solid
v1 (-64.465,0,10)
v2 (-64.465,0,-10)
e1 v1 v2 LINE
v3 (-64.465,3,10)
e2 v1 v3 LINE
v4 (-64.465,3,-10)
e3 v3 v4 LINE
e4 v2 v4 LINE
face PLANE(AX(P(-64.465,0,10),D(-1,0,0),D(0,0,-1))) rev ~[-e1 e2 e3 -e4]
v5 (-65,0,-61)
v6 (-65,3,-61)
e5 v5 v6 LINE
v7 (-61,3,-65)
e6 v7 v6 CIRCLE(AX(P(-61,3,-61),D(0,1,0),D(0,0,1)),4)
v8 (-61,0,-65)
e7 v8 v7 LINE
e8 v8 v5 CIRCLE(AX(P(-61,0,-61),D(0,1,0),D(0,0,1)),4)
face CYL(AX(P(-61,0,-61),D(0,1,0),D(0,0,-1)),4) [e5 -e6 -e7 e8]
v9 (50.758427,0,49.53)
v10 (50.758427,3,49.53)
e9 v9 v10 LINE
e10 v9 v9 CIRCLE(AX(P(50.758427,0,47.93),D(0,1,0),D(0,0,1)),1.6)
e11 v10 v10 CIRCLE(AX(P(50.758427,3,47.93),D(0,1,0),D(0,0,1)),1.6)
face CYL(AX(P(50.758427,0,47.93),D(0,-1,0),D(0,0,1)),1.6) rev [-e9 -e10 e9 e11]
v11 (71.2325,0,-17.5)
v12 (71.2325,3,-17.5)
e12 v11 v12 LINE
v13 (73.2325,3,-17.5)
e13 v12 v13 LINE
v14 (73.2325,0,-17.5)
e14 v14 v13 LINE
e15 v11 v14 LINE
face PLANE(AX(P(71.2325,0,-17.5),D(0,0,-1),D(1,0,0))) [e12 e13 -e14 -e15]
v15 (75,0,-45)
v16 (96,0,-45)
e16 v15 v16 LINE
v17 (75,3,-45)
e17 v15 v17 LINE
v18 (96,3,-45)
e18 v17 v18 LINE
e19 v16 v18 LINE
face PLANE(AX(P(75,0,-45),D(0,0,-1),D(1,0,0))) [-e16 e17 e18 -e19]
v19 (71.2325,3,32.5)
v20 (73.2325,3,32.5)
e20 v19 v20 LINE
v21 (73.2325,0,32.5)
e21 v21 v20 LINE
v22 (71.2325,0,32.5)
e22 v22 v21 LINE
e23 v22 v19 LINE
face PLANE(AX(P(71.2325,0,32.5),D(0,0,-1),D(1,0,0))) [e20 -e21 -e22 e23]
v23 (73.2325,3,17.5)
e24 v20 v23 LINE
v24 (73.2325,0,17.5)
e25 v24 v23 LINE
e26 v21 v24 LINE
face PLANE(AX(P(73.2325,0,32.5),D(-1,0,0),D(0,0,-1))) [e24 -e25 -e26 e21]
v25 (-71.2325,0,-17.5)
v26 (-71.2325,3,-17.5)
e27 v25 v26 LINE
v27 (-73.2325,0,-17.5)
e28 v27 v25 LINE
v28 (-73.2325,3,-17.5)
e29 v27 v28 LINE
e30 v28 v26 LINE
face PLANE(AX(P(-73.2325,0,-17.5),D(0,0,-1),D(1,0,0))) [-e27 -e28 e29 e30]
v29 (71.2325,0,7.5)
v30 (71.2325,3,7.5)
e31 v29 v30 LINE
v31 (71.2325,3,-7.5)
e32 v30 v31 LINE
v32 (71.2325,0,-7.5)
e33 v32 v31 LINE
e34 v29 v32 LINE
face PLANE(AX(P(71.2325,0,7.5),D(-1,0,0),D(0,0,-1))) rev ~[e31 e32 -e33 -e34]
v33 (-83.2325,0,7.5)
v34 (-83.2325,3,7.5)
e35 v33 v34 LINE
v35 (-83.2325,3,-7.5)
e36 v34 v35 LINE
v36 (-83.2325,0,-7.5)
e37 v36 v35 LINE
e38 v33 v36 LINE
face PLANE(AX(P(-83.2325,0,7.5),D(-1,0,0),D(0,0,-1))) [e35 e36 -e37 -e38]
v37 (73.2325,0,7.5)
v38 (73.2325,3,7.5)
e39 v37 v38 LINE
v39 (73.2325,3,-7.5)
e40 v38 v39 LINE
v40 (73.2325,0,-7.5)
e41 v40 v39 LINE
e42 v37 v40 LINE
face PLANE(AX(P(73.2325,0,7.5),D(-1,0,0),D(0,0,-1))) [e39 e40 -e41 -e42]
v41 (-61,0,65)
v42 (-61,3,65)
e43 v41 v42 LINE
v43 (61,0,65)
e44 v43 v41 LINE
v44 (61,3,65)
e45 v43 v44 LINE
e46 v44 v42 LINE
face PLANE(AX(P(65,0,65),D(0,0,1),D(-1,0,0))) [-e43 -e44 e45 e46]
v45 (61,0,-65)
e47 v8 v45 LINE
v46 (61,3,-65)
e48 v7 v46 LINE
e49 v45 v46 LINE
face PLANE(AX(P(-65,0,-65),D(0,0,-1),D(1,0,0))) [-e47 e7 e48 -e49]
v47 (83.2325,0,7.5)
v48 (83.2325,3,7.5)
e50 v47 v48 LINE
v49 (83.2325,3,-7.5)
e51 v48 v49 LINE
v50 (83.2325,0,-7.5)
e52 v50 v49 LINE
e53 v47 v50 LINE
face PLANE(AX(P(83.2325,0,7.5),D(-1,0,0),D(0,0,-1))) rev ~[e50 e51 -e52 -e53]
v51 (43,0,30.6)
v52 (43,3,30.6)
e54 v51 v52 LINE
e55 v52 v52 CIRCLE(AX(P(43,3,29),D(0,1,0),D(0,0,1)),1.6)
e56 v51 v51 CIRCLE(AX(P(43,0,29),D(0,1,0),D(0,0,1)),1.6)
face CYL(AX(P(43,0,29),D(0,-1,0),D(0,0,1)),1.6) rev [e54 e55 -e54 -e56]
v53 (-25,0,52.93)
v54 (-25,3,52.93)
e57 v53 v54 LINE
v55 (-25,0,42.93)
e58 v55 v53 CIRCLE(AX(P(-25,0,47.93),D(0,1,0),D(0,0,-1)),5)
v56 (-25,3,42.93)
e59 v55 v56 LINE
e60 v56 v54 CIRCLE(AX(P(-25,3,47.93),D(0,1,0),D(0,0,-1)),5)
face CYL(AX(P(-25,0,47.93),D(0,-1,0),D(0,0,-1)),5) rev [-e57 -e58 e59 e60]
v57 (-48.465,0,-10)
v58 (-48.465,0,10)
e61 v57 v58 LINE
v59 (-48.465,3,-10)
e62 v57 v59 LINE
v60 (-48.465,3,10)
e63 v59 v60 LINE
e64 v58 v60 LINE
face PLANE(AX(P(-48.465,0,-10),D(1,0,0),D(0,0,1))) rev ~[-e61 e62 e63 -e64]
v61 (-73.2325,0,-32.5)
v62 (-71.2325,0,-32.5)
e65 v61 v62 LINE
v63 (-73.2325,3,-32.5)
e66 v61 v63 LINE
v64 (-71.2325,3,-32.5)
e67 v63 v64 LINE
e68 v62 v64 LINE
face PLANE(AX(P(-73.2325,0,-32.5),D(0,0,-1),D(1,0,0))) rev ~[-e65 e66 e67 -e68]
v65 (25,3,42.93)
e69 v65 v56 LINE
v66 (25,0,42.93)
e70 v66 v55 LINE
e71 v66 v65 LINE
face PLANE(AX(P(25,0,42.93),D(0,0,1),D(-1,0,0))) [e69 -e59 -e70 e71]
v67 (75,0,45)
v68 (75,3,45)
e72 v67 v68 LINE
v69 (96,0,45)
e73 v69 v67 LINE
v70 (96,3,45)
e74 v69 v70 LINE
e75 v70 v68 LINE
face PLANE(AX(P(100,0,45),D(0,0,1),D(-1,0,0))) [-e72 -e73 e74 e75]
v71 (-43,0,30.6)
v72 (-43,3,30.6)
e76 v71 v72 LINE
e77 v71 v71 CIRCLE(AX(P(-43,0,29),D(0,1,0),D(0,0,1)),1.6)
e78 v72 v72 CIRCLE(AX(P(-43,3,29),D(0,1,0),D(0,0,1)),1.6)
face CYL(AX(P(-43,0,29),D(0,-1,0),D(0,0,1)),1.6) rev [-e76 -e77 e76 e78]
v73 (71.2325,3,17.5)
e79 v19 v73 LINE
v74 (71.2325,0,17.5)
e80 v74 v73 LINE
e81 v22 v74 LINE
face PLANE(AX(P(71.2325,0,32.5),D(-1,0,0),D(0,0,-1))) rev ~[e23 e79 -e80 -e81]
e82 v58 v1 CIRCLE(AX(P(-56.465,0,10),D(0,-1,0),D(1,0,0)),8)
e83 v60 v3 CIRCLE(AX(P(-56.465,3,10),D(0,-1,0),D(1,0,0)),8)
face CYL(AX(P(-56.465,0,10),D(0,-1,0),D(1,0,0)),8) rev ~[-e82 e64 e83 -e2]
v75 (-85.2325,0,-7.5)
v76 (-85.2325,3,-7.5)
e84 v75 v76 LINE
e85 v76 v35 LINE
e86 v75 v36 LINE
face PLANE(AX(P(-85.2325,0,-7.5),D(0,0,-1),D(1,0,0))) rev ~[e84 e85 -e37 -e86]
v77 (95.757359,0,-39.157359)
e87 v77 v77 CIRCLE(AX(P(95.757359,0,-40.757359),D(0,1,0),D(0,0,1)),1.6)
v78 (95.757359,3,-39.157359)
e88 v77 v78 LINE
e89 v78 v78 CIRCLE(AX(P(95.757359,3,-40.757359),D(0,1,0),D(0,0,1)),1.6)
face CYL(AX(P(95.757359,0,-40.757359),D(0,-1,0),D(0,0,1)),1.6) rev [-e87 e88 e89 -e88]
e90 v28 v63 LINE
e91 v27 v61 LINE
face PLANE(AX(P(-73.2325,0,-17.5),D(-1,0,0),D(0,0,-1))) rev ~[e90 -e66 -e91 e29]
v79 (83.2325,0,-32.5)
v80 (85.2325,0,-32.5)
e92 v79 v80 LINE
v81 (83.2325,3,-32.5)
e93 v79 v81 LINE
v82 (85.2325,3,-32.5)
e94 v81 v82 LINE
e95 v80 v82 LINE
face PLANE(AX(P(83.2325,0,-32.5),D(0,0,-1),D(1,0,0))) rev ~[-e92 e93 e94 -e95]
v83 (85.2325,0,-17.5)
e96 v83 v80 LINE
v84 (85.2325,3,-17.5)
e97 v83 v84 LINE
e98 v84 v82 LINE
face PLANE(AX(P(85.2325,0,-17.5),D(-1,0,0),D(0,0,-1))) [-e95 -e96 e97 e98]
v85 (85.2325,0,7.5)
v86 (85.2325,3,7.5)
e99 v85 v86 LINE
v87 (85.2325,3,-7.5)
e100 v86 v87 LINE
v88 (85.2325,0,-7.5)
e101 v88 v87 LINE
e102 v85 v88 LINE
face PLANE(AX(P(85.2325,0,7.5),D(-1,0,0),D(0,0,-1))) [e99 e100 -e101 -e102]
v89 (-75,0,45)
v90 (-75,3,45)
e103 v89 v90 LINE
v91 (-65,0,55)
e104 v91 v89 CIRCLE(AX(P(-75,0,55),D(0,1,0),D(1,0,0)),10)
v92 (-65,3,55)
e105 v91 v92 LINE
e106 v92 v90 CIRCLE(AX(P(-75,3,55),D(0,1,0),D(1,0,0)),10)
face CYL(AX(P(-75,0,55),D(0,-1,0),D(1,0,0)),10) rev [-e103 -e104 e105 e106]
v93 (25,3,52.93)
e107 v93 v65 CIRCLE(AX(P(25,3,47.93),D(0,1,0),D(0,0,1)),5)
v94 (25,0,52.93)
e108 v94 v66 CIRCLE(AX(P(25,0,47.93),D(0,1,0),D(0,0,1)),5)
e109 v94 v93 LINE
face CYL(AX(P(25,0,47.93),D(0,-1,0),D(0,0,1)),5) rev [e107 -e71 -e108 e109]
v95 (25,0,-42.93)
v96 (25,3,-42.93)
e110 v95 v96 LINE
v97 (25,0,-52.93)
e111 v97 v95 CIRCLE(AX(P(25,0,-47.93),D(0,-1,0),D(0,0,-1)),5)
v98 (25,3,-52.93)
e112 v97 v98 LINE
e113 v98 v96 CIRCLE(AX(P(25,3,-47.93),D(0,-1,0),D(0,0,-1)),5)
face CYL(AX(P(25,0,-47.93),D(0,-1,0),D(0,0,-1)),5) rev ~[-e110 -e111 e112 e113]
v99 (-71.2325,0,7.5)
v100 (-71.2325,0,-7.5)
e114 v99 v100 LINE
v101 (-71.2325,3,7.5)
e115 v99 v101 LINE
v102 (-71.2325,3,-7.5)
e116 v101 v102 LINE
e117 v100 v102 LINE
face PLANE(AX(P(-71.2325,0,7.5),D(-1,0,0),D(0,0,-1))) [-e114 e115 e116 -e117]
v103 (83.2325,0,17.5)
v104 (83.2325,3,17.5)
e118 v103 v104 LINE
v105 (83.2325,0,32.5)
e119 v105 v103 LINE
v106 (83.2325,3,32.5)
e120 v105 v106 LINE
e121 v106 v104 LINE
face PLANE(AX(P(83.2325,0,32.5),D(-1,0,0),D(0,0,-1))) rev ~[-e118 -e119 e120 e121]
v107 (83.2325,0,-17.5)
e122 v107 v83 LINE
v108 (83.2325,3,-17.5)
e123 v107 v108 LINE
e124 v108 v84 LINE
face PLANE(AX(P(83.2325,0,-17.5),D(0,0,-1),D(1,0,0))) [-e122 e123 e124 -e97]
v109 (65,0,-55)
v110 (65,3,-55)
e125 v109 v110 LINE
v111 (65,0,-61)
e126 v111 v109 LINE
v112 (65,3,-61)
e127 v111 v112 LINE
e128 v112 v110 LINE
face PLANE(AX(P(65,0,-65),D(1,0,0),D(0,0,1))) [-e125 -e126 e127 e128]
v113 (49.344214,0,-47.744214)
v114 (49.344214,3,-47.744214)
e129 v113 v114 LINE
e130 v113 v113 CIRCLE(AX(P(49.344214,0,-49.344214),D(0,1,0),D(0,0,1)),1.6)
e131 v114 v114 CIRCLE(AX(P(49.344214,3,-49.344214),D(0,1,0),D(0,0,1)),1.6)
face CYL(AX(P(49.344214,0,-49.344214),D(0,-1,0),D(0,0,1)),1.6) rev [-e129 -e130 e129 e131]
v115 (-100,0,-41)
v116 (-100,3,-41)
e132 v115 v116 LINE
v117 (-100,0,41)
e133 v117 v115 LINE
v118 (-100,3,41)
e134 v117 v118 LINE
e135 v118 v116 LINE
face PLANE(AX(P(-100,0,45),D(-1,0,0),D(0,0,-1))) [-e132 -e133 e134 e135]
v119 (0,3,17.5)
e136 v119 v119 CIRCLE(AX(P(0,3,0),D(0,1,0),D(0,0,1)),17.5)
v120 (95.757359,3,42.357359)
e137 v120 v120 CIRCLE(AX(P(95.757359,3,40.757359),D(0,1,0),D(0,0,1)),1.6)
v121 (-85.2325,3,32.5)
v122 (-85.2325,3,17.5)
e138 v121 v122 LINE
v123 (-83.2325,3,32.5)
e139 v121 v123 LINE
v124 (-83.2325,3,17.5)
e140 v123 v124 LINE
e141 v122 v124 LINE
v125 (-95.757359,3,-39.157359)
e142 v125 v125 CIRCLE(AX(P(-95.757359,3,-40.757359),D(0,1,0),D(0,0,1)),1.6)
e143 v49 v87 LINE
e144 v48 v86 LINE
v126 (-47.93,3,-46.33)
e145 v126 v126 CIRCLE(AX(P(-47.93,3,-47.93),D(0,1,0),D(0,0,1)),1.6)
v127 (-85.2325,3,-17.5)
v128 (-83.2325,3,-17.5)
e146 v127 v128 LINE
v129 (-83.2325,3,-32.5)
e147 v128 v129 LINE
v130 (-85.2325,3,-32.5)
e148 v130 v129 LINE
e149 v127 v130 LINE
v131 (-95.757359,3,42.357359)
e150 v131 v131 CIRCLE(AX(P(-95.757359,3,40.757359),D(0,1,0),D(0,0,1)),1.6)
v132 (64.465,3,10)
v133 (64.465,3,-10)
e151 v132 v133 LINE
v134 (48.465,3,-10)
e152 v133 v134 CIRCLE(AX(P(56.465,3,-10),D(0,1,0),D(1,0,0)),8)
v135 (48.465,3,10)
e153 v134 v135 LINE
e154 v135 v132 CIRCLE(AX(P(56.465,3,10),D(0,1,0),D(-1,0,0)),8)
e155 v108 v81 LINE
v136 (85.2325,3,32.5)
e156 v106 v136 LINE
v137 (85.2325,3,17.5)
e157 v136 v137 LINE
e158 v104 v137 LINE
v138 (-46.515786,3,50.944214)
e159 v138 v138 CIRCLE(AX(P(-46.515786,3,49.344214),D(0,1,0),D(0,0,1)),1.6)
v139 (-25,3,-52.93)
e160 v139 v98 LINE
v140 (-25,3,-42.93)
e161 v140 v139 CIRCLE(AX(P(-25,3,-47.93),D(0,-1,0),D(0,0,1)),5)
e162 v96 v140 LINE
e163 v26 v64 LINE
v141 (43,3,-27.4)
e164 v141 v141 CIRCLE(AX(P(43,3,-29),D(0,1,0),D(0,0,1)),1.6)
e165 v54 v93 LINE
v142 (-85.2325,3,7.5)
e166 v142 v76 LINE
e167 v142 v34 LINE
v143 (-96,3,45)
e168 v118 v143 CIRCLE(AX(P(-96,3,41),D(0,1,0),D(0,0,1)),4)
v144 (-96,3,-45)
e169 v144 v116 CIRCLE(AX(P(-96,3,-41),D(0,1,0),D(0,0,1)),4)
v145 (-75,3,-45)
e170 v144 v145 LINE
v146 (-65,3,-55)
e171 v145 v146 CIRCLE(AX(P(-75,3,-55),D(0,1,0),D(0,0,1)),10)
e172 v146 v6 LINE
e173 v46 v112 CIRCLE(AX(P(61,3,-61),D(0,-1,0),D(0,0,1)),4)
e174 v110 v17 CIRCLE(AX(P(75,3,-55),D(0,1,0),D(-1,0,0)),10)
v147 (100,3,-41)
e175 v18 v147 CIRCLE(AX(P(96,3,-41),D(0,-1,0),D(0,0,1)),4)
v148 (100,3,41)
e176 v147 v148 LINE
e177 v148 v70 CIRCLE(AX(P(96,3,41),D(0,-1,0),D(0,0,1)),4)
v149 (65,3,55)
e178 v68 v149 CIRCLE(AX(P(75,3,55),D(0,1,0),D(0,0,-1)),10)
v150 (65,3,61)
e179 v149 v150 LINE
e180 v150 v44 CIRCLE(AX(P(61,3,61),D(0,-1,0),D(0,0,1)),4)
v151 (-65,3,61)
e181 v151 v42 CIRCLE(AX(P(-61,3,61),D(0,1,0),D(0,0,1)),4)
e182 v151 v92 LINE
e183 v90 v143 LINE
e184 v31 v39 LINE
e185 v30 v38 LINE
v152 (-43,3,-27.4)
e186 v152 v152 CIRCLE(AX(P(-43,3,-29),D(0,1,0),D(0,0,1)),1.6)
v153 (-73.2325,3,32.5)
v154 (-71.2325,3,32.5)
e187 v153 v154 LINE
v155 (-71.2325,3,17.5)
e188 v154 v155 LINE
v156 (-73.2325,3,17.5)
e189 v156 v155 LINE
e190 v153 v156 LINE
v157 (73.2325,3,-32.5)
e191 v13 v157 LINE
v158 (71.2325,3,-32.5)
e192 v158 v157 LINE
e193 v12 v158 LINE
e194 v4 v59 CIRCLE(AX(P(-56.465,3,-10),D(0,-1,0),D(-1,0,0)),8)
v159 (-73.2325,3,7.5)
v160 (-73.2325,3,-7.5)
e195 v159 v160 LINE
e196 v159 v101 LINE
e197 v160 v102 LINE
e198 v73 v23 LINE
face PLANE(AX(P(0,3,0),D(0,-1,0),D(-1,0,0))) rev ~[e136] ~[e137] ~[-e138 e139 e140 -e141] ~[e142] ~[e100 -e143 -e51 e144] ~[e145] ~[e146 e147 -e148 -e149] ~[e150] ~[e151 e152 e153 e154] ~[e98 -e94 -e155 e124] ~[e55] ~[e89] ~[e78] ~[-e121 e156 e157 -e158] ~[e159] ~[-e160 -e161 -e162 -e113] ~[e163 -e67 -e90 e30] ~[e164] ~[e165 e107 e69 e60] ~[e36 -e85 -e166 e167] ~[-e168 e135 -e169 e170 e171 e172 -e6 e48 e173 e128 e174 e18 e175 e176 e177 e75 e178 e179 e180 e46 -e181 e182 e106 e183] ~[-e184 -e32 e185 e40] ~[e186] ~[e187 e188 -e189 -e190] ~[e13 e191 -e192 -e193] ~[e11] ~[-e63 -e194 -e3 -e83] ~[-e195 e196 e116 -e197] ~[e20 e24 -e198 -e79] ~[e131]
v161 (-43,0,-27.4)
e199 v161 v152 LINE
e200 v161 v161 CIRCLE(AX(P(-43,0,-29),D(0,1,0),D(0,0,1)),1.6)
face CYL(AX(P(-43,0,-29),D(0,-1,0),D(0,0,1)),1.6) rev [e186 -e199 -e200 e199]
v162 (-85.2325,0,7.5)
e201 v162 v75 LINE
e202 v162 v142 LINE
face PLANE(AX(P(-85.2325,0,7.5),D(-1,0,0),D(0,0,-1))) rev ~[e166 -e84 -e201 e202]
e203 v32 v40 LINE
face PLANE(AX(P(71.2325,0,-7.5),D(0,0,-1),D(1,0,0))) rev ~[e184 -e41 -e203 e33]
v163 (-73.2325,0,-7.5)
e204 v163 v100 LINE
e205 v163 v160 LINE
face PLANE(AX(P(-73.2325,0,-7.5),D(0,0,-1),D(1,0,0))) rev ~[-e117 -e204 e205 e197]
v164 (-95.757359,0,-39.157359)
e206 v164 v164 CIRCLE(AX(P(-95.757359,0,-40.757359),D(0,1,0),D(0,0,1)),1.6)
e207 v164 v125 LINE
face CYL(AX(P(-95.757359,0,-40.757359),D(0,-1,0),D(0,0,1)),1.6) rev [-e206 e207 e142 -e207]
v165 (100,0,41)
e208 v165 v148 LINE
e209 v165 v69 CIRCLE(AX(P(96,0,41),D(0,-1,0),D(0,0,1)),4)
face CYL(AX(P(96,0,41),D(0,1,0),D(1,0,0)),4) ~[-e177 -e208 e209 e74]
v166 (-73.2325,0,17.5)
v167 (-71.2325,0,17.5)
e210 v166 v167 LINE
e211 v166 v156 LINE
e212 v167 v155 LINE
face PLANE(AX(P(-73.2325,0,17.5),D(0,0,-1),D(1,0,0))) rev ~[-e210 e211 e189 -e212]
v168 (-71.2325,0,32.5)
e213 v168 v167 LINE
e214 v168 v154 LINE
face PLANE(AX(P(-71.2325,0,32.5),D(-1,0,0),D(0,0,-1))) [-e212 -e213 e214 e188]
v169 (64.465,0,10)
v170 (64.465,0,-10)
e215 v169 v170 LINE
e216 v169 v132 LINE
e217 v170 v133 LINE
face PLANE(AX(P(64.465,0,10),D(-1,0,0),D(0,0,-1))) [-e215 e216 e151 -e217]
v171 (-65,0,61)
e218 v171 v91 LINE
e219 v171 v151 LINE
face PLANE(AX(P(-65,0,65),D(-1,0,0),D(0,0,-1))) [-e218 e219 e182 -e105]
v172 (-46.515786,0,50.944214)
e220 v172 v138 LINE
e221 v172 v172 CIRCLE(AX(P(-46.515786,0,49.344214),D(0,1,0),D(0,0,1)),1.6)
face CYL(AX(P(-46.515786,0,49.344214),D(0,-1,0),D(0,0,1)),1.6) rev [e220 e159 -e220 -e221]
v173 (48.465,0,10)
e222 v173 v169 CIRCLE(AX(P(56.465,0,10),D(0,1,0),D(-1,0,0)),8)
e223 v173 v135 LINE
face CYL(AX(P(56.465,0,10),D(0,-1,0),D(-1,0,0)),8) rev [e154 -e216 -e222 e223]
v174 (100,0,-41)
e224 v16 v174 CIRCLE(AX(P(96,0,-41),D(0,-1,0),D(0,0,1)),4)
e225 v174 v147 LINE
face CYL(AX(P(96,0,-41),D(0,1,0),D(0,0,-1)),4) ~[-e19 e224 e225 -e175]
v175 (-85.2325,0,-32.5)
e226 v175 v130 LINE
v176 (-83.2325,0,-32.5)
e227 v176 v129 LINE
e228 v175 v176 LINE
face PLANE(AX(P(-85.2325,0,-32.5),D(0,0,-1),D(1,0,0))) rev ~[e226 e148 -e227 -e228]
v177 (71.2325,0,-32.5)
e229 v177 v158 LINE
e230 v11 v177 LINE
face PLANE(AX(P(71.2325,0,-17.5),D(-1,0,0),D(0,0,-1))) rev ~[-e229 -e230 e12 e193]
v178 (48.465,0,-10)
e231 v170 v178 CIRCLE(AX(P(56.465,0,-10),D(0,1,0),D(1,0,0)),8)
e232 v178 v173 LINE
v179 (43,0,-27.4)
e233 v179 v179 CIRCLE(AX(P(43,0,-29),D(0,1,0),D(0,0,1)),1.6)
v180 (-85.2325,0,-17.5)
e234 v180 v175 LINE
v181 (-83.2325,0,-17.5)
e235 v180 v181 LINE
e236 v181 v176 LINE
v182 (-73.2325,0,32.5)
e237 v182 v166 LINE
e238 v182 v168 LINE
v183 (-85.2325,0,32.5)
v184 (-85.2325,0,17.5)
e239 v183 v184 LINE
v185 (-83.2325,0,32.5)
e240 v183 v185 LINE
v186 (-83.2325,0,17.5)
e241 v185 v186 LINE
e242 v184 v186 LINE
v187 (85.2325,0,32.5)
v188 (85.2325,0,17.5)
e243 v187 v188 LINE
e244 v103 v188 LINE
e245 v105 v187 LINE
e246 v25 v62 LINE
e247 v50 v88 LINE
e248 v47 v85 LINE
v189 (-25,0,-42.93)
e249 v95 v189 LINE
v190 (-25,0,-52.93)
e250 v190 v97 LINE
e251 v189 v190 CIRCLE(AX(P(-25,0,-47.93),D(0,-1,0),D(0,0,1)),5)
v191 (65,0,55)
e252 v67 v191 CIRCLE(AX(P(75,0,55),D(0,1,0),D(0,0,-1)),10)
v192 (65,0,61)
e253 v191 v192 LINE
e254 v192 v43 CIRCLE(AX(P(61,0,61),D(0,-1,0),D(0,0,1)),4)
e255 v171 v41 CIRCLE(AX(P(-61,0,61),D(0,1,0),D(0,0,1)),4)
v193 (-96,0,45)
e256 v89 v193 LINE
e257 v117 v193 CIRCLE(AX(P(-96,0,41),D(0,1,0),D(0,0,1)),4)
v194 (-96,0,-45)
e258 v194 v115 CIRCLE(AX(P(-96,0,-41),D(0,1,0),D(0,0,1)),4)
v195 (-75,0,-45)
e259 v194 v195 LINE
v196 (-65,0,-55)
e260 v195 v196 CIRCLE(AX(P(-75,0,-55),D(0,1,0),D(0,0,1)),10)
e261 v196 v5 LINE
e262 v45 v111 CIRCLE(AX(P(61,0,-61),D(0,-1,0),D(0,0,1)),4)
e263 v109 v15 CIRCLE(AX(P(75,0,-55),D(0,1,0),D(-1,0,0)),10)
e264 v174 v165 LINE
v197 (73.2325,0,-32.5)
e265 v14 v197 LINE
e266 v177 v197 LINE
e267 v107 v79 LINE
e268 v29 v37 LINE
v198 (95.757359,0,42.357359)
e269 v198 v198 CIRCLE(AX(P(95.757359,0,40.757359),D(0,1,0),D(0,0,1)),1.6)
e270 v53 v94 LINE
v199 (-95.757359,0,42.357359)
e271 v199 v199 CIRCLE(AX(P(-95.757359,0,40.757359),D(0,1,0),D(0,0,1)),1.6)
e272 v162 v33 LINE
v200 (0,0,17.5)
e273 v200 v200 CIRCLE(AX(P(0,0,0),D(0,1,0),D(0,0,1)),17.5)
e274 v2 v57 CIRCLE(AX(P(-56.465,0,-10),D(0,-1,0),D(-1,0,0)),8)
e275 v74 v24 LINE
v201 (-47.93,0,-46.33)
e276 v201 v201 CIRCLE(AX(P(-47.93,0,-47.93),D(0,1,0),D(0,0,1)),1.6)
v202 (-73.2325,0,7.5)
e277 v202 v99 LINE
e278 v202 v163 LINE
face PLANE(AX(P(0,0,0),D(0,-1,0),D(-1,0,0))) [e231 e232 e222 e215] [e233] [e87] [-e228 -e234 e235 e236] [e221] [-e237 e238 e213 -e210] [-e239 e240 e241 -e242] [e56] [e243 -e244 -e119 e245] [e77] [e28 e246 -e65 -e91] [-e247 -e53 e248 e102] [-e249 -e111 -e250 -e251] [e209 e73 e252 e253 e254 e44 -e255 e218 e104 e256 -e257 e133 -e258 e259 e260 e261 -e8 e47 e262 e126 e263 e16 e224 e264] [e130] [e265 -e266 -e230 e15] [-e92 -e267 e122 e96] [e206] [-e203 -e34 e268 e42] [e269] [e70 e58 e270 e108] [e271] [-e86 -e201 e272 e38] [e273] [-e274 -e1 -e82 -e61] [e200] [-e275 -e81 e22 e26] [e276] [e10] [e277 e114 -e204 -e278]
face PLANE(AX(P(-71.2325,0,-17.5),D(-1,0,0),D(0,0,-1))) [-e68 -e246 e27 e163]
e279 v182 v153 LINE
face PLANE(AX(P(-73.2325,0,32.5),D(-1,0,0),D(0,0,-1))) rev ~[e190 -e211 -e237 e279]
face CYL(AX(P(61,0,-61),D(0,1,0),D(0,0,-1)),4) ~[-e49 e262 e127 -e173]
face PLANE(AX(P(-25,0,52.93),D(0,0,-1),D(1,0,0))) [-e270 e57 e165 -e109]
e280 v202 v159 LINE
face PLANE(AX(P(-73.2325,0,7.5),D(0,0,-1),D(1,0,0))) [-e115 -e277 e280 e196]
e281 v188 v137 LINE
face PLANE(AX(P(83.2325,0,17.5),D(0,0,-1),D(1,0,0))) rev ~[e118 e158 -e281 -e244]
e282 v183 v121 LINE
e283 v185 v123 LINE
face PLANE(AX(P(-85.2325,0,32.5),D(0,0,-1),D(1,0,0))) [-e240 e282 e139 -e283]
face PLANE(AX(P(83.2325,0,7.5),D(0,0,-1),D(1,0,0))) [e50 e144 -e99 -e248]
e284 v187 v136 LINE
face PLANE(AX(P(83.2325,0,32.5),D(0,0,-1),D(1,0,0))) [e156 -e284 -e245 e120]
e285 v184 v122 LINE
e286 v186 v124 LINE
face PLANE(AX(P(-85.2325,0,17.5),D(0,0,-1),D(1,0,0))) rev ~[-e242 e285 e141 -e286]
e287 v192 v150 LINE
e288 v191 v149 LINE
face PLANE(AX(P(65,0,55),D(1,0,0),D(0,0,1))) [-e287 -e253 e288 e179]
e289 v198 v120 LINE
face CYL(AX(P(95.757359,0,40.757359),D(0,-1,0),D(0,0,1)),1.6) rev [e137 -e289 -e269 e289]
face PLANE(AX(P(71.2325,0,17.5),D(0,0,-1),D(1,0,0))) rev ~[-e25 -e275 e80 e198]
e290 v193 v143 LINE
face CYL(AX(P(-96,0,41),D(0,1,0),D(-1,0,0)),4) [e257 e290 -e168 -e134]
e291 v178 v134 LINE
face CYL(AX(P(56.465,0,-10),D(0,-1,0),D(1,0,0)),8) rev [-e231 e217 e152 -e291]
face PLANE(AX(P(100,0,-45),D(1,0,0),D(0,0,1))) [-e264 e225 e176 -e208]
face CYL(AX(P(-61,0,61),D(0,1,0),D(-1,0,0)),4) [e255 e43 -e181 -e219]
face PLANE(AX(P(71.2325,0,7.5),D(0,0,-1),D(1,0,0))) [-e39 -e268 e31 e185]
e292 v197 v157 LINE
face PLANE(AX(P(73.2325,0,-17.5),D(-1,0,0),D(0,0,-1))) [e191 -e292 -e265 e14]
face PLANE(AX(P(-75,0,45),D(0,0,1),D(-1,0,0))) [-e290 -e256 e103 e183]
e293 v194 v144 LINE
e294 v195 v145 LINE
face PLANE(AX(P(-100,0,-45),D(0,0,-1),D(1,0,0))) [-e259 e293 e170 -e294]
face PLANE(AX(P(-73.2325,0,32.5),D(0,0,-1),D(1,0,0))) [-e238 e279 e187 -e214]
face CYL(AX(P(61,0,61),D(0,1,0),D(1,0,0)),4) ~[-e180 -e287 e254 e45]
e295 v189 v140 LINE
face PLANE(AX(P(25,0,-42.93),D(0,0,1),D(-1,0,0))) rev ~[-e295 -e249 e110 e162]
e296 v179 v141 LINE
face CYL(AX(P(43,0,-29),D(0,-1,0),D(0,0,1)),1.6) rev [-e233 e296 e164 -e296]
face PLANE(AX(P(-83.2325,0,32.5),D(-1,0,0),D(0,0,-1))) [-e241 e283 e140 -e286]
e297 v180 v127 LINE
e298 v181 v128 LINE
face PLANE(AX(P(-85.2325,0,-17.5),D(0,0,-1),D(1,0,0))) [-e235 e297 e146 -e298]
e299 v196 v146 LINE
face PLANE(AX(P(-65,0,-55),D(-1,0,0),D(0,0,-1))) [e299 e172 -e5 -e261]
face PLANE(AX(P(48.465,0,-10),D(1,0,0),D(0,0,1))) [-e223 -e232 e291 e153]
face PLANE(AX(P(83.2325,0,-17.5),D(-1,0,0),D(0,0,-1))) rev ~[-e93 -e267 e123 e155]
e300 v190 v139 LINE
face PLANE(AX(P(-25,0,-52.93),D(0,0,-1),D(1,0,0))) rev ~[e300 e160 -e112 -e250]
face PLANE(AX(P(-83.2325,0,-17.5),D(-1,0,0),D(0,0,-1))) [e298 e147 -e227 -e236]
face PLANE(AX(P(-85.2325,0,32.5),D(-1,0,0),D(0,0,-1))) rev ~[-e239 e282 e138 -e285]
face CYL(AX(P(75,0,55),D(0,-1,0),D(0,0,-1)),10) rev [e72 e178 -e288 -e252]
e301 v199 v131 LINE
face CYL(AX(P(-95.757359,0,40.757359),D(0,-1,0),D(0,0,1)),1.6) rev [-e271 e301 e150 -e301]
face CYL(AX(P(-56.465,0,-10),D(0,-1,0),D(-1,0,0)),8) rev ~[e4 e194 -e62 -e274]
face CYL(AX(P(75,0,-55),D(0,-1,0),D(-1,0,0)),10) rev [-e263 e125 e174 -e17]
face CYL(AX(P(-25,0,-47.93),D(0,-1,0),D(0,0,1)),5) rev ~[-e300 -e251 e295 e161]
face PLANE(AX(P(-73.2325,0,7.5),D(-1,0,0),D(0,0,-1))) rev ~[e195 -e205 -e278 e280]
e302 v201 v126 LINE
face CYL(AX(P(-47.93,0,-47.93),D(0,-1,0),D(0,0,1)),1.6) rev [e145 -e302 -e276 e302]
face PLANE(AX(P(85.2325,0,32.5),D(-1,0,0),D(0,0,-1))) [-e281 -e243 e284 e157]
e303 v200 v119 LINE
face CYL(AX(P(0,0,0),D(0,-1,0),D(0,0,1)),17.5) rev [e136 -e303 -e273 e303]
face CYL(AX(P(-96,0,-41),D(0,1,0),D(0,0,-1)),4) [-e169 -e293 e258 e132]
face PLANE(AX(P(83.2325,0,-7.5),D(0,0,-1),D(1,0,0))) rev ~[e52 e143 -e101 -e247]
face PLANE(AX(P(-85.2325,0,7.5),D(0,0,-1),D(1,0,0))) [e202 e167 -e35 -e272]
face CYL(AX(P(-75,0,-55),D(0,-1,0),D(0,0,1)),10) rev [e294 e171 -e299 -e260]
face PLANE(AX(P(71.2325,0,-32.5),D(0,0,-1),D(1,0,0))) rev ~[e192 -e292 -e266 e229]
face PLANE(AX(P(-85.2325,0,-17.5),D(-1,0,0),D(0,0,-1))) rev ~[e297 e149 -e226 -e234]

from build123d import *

# Parameters (mm, degrees)
SKETCH_1_R      = 1.6
SKETCH_1_R_2    = 17.5
SKETCH_1_W      = 2
SKETCH_1_H      = 15
EXTRUDE_1_DEPTH = 3
FILLET_2_R      = 4


with BuildPart() as part:
    # 草图1 → 凸台-拉伸1 (new body)
    with BuildSketch(Plane(origin=(0, 0, 0), x_dir=(1, 0, 0), z_dir=(0, 1, 0))):
        with BuildLine():
            Line((-65, 65), (65, 65))
            Line((65, 65), (65, 55))
            ThreePointArc((65, 55), (67.928932188, 47.928932188), (75, 45))
            Line((75, 45), (100, 45))
            Line((100, 45), (100, -45))
            Line((100, -45), (75, -45))
            ThreePointArc((75, -45), (67.928932188, -47.928932188), (65, -55))
            Line((65, -55), (65, -65))
            Line((65, -65), (-65, -65))
            Line((-65, -65), (-65, -55))
            ThreePointArc((-65, -55), (-67.928932188, -47.928932188), (-75, -45))
            Line((-75, -45), (-100, -45))
            Line((-100, -45), (-100, 45))
            Line((-100, 45), (-75, 45))
            ThreePointArc((-75, 45), (-67.928932188, 47.928932188), (-65, 55))
            Line((-65, 55), (-65, 65))
        make_face()
        with Locations(Location((-47.93, 47.93, 0), (0, 0, 270))):
            Circle(SKETCH_1_R, mode=Mode.SUBTRACT)
        with Locations(Location((49.344213562, 49.344213562, 0), (0, 0, 270))):
            Circle(SKETCH_1_R, mode=Mode.SUBTRACT)
        with Locations(Location((50.758427125, -47.93, 0), (0, 0, 270))):
            Circle(SKETCH_1_R, mode=Mode.SUBTRACT)
        with Locations(Location((-46.515786438, -49.344213562, 0), (0, 0, 270))):
            Circle(SKETCH_1_R, mode=Mode.SUBTRACT)
        with Locations(Location((43, -29, 0), (0, 0, 270))):
            Circle(SKETCH_1_R, mode=Mode.SUBTRACT)
        with Locations(Location((-43, -29, 0), (0, 0, 270))):
            Circle(SKETCH_1_R, mode=Mode.SUBTRACT)
        with Locations(Location((-43, 29, 0), (0, 0, 270))):
            Circle(SKETCH_1_R, mode=Mode.SUBTRACT)
        with Locations(Location((43, 29, 0), (0, 0, 270))):
            Circle(SKETCH_1_R, mode=Mode.SUBTRACT)
        with Locations(Location((0, 0, 0), (0, 0, 270))):
            Circle(SKETCH_1_R_2, mode=Mode.SUBTRACT)
        with Locations(Location((-95.757359313, 40.757359313, 0), (0, 0, 270))):
            Circle(SKETCH_1_R, mode=Mode.SUBTRACT)
        with Locations(Location((95.757359313, 40.757359313, 0), (0, 0, 270))):
            Circle(SKETCH_1_R, mode=Mode.SUBTRACT)
        with Locations(Location((95.757359313, -40.757359313, 0), (0, 0, 270))):
            Circle(SKETCH_1_R, mode=Mode.SUBTRACT)
        with Locations(Location((-95.757359313, -40.757359313, 0), (0, 0, 270))):
            Circle(SKETCH_1_R, mode=Mode.SUBTRACT)
        with Locations((-84.2325, 0)):
            Rectangle(SKETCH_1_W, SKETCH_1_H, mode=Mode.SUBTRACT)
        with BuildLine():
            Line((-48.465, 10), (-48.465, -10))
            ThreePointArc((-48.465, -10), (-56.465, -18), (-64.465, -10))
            Line((-64.465, -10), (-64.465, 10))
            ThreePointArc((-64.465, 10), (-56.465, 18), (-48.465, 10))
        make_face(mode=Mode.SUBTRACT)
        with BuildLine():
            Line((48.465, 10), (48.465, -10))
            ThreePointArc((48.465, -10), (56.465, -18), (64.465, -10))
            Line((64.465, -10), (64.465, 10))
            ThreePointArc((64.465, 10), (56.465, 18), (48.465, 10))
        make_face(mode=Mode.SUBTRACT)
        with BuildLine():
            Line((-25, 52.93), (25, 52.93))
            ThreePointArc((25, 52.93), (30, 47.93), (25, 42.93))
            Line((25, 42.93), (-25, 42.93))
            ThreePointArc((-25, 42.93), (-30, 47.93), (-25, 52.93))
        make_face(mode=Mode.SUBTRACT)
        with BuildLine():
            Line((-25, -52.93), (25, -52.93))
            ThreePointArc((25, -52.93), (30, -47.93), (25, -42.93))
            Line((25, -42.93), (-25, -42.93))
            ThreePointArc((-25, -42.93), (-30, -47.93), (-25, -52.93))
        make_face(mode=Mode.SUBTRACT)
        with Locations((-72.2325, 0)):
            Rectangle(SKETCH_1_W, SKETCH_1_H, mode=Mode.SUBTRACT)
        with Locations((-84.2325, -25)):
            Rectangle(SKETCH_1_W, SKETCH_1_H, mode=Mode.SUBTRACT)
        with Locations((-72.2325, -25)):
            Rectangle(SKETCH_1_W, SKETCH_1_H, mode=Mode.SUBTRACT)
        with Locations((-72.2325, 25)):
            Rectangle(SKETCH_1_W, SKETCH_1_H, mode=Mode.SUBTRACT)
        with Locations((-84.2325, 25)):
            Rectangle(SKETCH_1_W, SKETCH_1_H, mode=Mode.SUBTRACT)
        with Locations((84.2325, 25)):
            Rectangle(SKETCH_1_W, SKETCH_1_H, mode=Mode.SUBTRACT)
        with Locations((72.2325, 25)):
            Rectangle(SKETCH_1_W, SKETCH_1_H, mode=Mode.SUBTRACT)
        with Locations((84.2325, 0)):
            Rectangle(SKETCH_1_W, SKETCH_1_H, mode=Mode.SUBTRACT)
        with Locations((72.2325, 0)):
            Rectangle(SKETCH_1_W, SKETCH_1_H, mode=Mode.SUBTRACT)
        with Locations((84.2325, -25)):
            Rectangle(SKETCH_1_W, SKETCH_1_H, mode=Mode.SUBTRACT)
        with Locations((72.2325, -25)):
            Rectangle(SKETCH_1_W, SKETCH_1_H, mode=Mode.SUBTRACT)
    extrude(amount=EXTRUDE_1_DEPTH)

    # 圆角2
    fillet_2_edges = [part.edges().sort_by_distance(p)[0] for p in [
        (100, 1.5, -45),
        (100, 1.5, 45),
        (65, 1.5, 65),
        (-65, 1.5, 65),
        (-100, 1.5, 45),
        (-100, 1.5, -45),
        (-65, 1.5, -65),
        (65, 1.5, -65),
    ]]
    fillet(fillet_2_edges, radius=FILLET_2_R)


solid = part.part
